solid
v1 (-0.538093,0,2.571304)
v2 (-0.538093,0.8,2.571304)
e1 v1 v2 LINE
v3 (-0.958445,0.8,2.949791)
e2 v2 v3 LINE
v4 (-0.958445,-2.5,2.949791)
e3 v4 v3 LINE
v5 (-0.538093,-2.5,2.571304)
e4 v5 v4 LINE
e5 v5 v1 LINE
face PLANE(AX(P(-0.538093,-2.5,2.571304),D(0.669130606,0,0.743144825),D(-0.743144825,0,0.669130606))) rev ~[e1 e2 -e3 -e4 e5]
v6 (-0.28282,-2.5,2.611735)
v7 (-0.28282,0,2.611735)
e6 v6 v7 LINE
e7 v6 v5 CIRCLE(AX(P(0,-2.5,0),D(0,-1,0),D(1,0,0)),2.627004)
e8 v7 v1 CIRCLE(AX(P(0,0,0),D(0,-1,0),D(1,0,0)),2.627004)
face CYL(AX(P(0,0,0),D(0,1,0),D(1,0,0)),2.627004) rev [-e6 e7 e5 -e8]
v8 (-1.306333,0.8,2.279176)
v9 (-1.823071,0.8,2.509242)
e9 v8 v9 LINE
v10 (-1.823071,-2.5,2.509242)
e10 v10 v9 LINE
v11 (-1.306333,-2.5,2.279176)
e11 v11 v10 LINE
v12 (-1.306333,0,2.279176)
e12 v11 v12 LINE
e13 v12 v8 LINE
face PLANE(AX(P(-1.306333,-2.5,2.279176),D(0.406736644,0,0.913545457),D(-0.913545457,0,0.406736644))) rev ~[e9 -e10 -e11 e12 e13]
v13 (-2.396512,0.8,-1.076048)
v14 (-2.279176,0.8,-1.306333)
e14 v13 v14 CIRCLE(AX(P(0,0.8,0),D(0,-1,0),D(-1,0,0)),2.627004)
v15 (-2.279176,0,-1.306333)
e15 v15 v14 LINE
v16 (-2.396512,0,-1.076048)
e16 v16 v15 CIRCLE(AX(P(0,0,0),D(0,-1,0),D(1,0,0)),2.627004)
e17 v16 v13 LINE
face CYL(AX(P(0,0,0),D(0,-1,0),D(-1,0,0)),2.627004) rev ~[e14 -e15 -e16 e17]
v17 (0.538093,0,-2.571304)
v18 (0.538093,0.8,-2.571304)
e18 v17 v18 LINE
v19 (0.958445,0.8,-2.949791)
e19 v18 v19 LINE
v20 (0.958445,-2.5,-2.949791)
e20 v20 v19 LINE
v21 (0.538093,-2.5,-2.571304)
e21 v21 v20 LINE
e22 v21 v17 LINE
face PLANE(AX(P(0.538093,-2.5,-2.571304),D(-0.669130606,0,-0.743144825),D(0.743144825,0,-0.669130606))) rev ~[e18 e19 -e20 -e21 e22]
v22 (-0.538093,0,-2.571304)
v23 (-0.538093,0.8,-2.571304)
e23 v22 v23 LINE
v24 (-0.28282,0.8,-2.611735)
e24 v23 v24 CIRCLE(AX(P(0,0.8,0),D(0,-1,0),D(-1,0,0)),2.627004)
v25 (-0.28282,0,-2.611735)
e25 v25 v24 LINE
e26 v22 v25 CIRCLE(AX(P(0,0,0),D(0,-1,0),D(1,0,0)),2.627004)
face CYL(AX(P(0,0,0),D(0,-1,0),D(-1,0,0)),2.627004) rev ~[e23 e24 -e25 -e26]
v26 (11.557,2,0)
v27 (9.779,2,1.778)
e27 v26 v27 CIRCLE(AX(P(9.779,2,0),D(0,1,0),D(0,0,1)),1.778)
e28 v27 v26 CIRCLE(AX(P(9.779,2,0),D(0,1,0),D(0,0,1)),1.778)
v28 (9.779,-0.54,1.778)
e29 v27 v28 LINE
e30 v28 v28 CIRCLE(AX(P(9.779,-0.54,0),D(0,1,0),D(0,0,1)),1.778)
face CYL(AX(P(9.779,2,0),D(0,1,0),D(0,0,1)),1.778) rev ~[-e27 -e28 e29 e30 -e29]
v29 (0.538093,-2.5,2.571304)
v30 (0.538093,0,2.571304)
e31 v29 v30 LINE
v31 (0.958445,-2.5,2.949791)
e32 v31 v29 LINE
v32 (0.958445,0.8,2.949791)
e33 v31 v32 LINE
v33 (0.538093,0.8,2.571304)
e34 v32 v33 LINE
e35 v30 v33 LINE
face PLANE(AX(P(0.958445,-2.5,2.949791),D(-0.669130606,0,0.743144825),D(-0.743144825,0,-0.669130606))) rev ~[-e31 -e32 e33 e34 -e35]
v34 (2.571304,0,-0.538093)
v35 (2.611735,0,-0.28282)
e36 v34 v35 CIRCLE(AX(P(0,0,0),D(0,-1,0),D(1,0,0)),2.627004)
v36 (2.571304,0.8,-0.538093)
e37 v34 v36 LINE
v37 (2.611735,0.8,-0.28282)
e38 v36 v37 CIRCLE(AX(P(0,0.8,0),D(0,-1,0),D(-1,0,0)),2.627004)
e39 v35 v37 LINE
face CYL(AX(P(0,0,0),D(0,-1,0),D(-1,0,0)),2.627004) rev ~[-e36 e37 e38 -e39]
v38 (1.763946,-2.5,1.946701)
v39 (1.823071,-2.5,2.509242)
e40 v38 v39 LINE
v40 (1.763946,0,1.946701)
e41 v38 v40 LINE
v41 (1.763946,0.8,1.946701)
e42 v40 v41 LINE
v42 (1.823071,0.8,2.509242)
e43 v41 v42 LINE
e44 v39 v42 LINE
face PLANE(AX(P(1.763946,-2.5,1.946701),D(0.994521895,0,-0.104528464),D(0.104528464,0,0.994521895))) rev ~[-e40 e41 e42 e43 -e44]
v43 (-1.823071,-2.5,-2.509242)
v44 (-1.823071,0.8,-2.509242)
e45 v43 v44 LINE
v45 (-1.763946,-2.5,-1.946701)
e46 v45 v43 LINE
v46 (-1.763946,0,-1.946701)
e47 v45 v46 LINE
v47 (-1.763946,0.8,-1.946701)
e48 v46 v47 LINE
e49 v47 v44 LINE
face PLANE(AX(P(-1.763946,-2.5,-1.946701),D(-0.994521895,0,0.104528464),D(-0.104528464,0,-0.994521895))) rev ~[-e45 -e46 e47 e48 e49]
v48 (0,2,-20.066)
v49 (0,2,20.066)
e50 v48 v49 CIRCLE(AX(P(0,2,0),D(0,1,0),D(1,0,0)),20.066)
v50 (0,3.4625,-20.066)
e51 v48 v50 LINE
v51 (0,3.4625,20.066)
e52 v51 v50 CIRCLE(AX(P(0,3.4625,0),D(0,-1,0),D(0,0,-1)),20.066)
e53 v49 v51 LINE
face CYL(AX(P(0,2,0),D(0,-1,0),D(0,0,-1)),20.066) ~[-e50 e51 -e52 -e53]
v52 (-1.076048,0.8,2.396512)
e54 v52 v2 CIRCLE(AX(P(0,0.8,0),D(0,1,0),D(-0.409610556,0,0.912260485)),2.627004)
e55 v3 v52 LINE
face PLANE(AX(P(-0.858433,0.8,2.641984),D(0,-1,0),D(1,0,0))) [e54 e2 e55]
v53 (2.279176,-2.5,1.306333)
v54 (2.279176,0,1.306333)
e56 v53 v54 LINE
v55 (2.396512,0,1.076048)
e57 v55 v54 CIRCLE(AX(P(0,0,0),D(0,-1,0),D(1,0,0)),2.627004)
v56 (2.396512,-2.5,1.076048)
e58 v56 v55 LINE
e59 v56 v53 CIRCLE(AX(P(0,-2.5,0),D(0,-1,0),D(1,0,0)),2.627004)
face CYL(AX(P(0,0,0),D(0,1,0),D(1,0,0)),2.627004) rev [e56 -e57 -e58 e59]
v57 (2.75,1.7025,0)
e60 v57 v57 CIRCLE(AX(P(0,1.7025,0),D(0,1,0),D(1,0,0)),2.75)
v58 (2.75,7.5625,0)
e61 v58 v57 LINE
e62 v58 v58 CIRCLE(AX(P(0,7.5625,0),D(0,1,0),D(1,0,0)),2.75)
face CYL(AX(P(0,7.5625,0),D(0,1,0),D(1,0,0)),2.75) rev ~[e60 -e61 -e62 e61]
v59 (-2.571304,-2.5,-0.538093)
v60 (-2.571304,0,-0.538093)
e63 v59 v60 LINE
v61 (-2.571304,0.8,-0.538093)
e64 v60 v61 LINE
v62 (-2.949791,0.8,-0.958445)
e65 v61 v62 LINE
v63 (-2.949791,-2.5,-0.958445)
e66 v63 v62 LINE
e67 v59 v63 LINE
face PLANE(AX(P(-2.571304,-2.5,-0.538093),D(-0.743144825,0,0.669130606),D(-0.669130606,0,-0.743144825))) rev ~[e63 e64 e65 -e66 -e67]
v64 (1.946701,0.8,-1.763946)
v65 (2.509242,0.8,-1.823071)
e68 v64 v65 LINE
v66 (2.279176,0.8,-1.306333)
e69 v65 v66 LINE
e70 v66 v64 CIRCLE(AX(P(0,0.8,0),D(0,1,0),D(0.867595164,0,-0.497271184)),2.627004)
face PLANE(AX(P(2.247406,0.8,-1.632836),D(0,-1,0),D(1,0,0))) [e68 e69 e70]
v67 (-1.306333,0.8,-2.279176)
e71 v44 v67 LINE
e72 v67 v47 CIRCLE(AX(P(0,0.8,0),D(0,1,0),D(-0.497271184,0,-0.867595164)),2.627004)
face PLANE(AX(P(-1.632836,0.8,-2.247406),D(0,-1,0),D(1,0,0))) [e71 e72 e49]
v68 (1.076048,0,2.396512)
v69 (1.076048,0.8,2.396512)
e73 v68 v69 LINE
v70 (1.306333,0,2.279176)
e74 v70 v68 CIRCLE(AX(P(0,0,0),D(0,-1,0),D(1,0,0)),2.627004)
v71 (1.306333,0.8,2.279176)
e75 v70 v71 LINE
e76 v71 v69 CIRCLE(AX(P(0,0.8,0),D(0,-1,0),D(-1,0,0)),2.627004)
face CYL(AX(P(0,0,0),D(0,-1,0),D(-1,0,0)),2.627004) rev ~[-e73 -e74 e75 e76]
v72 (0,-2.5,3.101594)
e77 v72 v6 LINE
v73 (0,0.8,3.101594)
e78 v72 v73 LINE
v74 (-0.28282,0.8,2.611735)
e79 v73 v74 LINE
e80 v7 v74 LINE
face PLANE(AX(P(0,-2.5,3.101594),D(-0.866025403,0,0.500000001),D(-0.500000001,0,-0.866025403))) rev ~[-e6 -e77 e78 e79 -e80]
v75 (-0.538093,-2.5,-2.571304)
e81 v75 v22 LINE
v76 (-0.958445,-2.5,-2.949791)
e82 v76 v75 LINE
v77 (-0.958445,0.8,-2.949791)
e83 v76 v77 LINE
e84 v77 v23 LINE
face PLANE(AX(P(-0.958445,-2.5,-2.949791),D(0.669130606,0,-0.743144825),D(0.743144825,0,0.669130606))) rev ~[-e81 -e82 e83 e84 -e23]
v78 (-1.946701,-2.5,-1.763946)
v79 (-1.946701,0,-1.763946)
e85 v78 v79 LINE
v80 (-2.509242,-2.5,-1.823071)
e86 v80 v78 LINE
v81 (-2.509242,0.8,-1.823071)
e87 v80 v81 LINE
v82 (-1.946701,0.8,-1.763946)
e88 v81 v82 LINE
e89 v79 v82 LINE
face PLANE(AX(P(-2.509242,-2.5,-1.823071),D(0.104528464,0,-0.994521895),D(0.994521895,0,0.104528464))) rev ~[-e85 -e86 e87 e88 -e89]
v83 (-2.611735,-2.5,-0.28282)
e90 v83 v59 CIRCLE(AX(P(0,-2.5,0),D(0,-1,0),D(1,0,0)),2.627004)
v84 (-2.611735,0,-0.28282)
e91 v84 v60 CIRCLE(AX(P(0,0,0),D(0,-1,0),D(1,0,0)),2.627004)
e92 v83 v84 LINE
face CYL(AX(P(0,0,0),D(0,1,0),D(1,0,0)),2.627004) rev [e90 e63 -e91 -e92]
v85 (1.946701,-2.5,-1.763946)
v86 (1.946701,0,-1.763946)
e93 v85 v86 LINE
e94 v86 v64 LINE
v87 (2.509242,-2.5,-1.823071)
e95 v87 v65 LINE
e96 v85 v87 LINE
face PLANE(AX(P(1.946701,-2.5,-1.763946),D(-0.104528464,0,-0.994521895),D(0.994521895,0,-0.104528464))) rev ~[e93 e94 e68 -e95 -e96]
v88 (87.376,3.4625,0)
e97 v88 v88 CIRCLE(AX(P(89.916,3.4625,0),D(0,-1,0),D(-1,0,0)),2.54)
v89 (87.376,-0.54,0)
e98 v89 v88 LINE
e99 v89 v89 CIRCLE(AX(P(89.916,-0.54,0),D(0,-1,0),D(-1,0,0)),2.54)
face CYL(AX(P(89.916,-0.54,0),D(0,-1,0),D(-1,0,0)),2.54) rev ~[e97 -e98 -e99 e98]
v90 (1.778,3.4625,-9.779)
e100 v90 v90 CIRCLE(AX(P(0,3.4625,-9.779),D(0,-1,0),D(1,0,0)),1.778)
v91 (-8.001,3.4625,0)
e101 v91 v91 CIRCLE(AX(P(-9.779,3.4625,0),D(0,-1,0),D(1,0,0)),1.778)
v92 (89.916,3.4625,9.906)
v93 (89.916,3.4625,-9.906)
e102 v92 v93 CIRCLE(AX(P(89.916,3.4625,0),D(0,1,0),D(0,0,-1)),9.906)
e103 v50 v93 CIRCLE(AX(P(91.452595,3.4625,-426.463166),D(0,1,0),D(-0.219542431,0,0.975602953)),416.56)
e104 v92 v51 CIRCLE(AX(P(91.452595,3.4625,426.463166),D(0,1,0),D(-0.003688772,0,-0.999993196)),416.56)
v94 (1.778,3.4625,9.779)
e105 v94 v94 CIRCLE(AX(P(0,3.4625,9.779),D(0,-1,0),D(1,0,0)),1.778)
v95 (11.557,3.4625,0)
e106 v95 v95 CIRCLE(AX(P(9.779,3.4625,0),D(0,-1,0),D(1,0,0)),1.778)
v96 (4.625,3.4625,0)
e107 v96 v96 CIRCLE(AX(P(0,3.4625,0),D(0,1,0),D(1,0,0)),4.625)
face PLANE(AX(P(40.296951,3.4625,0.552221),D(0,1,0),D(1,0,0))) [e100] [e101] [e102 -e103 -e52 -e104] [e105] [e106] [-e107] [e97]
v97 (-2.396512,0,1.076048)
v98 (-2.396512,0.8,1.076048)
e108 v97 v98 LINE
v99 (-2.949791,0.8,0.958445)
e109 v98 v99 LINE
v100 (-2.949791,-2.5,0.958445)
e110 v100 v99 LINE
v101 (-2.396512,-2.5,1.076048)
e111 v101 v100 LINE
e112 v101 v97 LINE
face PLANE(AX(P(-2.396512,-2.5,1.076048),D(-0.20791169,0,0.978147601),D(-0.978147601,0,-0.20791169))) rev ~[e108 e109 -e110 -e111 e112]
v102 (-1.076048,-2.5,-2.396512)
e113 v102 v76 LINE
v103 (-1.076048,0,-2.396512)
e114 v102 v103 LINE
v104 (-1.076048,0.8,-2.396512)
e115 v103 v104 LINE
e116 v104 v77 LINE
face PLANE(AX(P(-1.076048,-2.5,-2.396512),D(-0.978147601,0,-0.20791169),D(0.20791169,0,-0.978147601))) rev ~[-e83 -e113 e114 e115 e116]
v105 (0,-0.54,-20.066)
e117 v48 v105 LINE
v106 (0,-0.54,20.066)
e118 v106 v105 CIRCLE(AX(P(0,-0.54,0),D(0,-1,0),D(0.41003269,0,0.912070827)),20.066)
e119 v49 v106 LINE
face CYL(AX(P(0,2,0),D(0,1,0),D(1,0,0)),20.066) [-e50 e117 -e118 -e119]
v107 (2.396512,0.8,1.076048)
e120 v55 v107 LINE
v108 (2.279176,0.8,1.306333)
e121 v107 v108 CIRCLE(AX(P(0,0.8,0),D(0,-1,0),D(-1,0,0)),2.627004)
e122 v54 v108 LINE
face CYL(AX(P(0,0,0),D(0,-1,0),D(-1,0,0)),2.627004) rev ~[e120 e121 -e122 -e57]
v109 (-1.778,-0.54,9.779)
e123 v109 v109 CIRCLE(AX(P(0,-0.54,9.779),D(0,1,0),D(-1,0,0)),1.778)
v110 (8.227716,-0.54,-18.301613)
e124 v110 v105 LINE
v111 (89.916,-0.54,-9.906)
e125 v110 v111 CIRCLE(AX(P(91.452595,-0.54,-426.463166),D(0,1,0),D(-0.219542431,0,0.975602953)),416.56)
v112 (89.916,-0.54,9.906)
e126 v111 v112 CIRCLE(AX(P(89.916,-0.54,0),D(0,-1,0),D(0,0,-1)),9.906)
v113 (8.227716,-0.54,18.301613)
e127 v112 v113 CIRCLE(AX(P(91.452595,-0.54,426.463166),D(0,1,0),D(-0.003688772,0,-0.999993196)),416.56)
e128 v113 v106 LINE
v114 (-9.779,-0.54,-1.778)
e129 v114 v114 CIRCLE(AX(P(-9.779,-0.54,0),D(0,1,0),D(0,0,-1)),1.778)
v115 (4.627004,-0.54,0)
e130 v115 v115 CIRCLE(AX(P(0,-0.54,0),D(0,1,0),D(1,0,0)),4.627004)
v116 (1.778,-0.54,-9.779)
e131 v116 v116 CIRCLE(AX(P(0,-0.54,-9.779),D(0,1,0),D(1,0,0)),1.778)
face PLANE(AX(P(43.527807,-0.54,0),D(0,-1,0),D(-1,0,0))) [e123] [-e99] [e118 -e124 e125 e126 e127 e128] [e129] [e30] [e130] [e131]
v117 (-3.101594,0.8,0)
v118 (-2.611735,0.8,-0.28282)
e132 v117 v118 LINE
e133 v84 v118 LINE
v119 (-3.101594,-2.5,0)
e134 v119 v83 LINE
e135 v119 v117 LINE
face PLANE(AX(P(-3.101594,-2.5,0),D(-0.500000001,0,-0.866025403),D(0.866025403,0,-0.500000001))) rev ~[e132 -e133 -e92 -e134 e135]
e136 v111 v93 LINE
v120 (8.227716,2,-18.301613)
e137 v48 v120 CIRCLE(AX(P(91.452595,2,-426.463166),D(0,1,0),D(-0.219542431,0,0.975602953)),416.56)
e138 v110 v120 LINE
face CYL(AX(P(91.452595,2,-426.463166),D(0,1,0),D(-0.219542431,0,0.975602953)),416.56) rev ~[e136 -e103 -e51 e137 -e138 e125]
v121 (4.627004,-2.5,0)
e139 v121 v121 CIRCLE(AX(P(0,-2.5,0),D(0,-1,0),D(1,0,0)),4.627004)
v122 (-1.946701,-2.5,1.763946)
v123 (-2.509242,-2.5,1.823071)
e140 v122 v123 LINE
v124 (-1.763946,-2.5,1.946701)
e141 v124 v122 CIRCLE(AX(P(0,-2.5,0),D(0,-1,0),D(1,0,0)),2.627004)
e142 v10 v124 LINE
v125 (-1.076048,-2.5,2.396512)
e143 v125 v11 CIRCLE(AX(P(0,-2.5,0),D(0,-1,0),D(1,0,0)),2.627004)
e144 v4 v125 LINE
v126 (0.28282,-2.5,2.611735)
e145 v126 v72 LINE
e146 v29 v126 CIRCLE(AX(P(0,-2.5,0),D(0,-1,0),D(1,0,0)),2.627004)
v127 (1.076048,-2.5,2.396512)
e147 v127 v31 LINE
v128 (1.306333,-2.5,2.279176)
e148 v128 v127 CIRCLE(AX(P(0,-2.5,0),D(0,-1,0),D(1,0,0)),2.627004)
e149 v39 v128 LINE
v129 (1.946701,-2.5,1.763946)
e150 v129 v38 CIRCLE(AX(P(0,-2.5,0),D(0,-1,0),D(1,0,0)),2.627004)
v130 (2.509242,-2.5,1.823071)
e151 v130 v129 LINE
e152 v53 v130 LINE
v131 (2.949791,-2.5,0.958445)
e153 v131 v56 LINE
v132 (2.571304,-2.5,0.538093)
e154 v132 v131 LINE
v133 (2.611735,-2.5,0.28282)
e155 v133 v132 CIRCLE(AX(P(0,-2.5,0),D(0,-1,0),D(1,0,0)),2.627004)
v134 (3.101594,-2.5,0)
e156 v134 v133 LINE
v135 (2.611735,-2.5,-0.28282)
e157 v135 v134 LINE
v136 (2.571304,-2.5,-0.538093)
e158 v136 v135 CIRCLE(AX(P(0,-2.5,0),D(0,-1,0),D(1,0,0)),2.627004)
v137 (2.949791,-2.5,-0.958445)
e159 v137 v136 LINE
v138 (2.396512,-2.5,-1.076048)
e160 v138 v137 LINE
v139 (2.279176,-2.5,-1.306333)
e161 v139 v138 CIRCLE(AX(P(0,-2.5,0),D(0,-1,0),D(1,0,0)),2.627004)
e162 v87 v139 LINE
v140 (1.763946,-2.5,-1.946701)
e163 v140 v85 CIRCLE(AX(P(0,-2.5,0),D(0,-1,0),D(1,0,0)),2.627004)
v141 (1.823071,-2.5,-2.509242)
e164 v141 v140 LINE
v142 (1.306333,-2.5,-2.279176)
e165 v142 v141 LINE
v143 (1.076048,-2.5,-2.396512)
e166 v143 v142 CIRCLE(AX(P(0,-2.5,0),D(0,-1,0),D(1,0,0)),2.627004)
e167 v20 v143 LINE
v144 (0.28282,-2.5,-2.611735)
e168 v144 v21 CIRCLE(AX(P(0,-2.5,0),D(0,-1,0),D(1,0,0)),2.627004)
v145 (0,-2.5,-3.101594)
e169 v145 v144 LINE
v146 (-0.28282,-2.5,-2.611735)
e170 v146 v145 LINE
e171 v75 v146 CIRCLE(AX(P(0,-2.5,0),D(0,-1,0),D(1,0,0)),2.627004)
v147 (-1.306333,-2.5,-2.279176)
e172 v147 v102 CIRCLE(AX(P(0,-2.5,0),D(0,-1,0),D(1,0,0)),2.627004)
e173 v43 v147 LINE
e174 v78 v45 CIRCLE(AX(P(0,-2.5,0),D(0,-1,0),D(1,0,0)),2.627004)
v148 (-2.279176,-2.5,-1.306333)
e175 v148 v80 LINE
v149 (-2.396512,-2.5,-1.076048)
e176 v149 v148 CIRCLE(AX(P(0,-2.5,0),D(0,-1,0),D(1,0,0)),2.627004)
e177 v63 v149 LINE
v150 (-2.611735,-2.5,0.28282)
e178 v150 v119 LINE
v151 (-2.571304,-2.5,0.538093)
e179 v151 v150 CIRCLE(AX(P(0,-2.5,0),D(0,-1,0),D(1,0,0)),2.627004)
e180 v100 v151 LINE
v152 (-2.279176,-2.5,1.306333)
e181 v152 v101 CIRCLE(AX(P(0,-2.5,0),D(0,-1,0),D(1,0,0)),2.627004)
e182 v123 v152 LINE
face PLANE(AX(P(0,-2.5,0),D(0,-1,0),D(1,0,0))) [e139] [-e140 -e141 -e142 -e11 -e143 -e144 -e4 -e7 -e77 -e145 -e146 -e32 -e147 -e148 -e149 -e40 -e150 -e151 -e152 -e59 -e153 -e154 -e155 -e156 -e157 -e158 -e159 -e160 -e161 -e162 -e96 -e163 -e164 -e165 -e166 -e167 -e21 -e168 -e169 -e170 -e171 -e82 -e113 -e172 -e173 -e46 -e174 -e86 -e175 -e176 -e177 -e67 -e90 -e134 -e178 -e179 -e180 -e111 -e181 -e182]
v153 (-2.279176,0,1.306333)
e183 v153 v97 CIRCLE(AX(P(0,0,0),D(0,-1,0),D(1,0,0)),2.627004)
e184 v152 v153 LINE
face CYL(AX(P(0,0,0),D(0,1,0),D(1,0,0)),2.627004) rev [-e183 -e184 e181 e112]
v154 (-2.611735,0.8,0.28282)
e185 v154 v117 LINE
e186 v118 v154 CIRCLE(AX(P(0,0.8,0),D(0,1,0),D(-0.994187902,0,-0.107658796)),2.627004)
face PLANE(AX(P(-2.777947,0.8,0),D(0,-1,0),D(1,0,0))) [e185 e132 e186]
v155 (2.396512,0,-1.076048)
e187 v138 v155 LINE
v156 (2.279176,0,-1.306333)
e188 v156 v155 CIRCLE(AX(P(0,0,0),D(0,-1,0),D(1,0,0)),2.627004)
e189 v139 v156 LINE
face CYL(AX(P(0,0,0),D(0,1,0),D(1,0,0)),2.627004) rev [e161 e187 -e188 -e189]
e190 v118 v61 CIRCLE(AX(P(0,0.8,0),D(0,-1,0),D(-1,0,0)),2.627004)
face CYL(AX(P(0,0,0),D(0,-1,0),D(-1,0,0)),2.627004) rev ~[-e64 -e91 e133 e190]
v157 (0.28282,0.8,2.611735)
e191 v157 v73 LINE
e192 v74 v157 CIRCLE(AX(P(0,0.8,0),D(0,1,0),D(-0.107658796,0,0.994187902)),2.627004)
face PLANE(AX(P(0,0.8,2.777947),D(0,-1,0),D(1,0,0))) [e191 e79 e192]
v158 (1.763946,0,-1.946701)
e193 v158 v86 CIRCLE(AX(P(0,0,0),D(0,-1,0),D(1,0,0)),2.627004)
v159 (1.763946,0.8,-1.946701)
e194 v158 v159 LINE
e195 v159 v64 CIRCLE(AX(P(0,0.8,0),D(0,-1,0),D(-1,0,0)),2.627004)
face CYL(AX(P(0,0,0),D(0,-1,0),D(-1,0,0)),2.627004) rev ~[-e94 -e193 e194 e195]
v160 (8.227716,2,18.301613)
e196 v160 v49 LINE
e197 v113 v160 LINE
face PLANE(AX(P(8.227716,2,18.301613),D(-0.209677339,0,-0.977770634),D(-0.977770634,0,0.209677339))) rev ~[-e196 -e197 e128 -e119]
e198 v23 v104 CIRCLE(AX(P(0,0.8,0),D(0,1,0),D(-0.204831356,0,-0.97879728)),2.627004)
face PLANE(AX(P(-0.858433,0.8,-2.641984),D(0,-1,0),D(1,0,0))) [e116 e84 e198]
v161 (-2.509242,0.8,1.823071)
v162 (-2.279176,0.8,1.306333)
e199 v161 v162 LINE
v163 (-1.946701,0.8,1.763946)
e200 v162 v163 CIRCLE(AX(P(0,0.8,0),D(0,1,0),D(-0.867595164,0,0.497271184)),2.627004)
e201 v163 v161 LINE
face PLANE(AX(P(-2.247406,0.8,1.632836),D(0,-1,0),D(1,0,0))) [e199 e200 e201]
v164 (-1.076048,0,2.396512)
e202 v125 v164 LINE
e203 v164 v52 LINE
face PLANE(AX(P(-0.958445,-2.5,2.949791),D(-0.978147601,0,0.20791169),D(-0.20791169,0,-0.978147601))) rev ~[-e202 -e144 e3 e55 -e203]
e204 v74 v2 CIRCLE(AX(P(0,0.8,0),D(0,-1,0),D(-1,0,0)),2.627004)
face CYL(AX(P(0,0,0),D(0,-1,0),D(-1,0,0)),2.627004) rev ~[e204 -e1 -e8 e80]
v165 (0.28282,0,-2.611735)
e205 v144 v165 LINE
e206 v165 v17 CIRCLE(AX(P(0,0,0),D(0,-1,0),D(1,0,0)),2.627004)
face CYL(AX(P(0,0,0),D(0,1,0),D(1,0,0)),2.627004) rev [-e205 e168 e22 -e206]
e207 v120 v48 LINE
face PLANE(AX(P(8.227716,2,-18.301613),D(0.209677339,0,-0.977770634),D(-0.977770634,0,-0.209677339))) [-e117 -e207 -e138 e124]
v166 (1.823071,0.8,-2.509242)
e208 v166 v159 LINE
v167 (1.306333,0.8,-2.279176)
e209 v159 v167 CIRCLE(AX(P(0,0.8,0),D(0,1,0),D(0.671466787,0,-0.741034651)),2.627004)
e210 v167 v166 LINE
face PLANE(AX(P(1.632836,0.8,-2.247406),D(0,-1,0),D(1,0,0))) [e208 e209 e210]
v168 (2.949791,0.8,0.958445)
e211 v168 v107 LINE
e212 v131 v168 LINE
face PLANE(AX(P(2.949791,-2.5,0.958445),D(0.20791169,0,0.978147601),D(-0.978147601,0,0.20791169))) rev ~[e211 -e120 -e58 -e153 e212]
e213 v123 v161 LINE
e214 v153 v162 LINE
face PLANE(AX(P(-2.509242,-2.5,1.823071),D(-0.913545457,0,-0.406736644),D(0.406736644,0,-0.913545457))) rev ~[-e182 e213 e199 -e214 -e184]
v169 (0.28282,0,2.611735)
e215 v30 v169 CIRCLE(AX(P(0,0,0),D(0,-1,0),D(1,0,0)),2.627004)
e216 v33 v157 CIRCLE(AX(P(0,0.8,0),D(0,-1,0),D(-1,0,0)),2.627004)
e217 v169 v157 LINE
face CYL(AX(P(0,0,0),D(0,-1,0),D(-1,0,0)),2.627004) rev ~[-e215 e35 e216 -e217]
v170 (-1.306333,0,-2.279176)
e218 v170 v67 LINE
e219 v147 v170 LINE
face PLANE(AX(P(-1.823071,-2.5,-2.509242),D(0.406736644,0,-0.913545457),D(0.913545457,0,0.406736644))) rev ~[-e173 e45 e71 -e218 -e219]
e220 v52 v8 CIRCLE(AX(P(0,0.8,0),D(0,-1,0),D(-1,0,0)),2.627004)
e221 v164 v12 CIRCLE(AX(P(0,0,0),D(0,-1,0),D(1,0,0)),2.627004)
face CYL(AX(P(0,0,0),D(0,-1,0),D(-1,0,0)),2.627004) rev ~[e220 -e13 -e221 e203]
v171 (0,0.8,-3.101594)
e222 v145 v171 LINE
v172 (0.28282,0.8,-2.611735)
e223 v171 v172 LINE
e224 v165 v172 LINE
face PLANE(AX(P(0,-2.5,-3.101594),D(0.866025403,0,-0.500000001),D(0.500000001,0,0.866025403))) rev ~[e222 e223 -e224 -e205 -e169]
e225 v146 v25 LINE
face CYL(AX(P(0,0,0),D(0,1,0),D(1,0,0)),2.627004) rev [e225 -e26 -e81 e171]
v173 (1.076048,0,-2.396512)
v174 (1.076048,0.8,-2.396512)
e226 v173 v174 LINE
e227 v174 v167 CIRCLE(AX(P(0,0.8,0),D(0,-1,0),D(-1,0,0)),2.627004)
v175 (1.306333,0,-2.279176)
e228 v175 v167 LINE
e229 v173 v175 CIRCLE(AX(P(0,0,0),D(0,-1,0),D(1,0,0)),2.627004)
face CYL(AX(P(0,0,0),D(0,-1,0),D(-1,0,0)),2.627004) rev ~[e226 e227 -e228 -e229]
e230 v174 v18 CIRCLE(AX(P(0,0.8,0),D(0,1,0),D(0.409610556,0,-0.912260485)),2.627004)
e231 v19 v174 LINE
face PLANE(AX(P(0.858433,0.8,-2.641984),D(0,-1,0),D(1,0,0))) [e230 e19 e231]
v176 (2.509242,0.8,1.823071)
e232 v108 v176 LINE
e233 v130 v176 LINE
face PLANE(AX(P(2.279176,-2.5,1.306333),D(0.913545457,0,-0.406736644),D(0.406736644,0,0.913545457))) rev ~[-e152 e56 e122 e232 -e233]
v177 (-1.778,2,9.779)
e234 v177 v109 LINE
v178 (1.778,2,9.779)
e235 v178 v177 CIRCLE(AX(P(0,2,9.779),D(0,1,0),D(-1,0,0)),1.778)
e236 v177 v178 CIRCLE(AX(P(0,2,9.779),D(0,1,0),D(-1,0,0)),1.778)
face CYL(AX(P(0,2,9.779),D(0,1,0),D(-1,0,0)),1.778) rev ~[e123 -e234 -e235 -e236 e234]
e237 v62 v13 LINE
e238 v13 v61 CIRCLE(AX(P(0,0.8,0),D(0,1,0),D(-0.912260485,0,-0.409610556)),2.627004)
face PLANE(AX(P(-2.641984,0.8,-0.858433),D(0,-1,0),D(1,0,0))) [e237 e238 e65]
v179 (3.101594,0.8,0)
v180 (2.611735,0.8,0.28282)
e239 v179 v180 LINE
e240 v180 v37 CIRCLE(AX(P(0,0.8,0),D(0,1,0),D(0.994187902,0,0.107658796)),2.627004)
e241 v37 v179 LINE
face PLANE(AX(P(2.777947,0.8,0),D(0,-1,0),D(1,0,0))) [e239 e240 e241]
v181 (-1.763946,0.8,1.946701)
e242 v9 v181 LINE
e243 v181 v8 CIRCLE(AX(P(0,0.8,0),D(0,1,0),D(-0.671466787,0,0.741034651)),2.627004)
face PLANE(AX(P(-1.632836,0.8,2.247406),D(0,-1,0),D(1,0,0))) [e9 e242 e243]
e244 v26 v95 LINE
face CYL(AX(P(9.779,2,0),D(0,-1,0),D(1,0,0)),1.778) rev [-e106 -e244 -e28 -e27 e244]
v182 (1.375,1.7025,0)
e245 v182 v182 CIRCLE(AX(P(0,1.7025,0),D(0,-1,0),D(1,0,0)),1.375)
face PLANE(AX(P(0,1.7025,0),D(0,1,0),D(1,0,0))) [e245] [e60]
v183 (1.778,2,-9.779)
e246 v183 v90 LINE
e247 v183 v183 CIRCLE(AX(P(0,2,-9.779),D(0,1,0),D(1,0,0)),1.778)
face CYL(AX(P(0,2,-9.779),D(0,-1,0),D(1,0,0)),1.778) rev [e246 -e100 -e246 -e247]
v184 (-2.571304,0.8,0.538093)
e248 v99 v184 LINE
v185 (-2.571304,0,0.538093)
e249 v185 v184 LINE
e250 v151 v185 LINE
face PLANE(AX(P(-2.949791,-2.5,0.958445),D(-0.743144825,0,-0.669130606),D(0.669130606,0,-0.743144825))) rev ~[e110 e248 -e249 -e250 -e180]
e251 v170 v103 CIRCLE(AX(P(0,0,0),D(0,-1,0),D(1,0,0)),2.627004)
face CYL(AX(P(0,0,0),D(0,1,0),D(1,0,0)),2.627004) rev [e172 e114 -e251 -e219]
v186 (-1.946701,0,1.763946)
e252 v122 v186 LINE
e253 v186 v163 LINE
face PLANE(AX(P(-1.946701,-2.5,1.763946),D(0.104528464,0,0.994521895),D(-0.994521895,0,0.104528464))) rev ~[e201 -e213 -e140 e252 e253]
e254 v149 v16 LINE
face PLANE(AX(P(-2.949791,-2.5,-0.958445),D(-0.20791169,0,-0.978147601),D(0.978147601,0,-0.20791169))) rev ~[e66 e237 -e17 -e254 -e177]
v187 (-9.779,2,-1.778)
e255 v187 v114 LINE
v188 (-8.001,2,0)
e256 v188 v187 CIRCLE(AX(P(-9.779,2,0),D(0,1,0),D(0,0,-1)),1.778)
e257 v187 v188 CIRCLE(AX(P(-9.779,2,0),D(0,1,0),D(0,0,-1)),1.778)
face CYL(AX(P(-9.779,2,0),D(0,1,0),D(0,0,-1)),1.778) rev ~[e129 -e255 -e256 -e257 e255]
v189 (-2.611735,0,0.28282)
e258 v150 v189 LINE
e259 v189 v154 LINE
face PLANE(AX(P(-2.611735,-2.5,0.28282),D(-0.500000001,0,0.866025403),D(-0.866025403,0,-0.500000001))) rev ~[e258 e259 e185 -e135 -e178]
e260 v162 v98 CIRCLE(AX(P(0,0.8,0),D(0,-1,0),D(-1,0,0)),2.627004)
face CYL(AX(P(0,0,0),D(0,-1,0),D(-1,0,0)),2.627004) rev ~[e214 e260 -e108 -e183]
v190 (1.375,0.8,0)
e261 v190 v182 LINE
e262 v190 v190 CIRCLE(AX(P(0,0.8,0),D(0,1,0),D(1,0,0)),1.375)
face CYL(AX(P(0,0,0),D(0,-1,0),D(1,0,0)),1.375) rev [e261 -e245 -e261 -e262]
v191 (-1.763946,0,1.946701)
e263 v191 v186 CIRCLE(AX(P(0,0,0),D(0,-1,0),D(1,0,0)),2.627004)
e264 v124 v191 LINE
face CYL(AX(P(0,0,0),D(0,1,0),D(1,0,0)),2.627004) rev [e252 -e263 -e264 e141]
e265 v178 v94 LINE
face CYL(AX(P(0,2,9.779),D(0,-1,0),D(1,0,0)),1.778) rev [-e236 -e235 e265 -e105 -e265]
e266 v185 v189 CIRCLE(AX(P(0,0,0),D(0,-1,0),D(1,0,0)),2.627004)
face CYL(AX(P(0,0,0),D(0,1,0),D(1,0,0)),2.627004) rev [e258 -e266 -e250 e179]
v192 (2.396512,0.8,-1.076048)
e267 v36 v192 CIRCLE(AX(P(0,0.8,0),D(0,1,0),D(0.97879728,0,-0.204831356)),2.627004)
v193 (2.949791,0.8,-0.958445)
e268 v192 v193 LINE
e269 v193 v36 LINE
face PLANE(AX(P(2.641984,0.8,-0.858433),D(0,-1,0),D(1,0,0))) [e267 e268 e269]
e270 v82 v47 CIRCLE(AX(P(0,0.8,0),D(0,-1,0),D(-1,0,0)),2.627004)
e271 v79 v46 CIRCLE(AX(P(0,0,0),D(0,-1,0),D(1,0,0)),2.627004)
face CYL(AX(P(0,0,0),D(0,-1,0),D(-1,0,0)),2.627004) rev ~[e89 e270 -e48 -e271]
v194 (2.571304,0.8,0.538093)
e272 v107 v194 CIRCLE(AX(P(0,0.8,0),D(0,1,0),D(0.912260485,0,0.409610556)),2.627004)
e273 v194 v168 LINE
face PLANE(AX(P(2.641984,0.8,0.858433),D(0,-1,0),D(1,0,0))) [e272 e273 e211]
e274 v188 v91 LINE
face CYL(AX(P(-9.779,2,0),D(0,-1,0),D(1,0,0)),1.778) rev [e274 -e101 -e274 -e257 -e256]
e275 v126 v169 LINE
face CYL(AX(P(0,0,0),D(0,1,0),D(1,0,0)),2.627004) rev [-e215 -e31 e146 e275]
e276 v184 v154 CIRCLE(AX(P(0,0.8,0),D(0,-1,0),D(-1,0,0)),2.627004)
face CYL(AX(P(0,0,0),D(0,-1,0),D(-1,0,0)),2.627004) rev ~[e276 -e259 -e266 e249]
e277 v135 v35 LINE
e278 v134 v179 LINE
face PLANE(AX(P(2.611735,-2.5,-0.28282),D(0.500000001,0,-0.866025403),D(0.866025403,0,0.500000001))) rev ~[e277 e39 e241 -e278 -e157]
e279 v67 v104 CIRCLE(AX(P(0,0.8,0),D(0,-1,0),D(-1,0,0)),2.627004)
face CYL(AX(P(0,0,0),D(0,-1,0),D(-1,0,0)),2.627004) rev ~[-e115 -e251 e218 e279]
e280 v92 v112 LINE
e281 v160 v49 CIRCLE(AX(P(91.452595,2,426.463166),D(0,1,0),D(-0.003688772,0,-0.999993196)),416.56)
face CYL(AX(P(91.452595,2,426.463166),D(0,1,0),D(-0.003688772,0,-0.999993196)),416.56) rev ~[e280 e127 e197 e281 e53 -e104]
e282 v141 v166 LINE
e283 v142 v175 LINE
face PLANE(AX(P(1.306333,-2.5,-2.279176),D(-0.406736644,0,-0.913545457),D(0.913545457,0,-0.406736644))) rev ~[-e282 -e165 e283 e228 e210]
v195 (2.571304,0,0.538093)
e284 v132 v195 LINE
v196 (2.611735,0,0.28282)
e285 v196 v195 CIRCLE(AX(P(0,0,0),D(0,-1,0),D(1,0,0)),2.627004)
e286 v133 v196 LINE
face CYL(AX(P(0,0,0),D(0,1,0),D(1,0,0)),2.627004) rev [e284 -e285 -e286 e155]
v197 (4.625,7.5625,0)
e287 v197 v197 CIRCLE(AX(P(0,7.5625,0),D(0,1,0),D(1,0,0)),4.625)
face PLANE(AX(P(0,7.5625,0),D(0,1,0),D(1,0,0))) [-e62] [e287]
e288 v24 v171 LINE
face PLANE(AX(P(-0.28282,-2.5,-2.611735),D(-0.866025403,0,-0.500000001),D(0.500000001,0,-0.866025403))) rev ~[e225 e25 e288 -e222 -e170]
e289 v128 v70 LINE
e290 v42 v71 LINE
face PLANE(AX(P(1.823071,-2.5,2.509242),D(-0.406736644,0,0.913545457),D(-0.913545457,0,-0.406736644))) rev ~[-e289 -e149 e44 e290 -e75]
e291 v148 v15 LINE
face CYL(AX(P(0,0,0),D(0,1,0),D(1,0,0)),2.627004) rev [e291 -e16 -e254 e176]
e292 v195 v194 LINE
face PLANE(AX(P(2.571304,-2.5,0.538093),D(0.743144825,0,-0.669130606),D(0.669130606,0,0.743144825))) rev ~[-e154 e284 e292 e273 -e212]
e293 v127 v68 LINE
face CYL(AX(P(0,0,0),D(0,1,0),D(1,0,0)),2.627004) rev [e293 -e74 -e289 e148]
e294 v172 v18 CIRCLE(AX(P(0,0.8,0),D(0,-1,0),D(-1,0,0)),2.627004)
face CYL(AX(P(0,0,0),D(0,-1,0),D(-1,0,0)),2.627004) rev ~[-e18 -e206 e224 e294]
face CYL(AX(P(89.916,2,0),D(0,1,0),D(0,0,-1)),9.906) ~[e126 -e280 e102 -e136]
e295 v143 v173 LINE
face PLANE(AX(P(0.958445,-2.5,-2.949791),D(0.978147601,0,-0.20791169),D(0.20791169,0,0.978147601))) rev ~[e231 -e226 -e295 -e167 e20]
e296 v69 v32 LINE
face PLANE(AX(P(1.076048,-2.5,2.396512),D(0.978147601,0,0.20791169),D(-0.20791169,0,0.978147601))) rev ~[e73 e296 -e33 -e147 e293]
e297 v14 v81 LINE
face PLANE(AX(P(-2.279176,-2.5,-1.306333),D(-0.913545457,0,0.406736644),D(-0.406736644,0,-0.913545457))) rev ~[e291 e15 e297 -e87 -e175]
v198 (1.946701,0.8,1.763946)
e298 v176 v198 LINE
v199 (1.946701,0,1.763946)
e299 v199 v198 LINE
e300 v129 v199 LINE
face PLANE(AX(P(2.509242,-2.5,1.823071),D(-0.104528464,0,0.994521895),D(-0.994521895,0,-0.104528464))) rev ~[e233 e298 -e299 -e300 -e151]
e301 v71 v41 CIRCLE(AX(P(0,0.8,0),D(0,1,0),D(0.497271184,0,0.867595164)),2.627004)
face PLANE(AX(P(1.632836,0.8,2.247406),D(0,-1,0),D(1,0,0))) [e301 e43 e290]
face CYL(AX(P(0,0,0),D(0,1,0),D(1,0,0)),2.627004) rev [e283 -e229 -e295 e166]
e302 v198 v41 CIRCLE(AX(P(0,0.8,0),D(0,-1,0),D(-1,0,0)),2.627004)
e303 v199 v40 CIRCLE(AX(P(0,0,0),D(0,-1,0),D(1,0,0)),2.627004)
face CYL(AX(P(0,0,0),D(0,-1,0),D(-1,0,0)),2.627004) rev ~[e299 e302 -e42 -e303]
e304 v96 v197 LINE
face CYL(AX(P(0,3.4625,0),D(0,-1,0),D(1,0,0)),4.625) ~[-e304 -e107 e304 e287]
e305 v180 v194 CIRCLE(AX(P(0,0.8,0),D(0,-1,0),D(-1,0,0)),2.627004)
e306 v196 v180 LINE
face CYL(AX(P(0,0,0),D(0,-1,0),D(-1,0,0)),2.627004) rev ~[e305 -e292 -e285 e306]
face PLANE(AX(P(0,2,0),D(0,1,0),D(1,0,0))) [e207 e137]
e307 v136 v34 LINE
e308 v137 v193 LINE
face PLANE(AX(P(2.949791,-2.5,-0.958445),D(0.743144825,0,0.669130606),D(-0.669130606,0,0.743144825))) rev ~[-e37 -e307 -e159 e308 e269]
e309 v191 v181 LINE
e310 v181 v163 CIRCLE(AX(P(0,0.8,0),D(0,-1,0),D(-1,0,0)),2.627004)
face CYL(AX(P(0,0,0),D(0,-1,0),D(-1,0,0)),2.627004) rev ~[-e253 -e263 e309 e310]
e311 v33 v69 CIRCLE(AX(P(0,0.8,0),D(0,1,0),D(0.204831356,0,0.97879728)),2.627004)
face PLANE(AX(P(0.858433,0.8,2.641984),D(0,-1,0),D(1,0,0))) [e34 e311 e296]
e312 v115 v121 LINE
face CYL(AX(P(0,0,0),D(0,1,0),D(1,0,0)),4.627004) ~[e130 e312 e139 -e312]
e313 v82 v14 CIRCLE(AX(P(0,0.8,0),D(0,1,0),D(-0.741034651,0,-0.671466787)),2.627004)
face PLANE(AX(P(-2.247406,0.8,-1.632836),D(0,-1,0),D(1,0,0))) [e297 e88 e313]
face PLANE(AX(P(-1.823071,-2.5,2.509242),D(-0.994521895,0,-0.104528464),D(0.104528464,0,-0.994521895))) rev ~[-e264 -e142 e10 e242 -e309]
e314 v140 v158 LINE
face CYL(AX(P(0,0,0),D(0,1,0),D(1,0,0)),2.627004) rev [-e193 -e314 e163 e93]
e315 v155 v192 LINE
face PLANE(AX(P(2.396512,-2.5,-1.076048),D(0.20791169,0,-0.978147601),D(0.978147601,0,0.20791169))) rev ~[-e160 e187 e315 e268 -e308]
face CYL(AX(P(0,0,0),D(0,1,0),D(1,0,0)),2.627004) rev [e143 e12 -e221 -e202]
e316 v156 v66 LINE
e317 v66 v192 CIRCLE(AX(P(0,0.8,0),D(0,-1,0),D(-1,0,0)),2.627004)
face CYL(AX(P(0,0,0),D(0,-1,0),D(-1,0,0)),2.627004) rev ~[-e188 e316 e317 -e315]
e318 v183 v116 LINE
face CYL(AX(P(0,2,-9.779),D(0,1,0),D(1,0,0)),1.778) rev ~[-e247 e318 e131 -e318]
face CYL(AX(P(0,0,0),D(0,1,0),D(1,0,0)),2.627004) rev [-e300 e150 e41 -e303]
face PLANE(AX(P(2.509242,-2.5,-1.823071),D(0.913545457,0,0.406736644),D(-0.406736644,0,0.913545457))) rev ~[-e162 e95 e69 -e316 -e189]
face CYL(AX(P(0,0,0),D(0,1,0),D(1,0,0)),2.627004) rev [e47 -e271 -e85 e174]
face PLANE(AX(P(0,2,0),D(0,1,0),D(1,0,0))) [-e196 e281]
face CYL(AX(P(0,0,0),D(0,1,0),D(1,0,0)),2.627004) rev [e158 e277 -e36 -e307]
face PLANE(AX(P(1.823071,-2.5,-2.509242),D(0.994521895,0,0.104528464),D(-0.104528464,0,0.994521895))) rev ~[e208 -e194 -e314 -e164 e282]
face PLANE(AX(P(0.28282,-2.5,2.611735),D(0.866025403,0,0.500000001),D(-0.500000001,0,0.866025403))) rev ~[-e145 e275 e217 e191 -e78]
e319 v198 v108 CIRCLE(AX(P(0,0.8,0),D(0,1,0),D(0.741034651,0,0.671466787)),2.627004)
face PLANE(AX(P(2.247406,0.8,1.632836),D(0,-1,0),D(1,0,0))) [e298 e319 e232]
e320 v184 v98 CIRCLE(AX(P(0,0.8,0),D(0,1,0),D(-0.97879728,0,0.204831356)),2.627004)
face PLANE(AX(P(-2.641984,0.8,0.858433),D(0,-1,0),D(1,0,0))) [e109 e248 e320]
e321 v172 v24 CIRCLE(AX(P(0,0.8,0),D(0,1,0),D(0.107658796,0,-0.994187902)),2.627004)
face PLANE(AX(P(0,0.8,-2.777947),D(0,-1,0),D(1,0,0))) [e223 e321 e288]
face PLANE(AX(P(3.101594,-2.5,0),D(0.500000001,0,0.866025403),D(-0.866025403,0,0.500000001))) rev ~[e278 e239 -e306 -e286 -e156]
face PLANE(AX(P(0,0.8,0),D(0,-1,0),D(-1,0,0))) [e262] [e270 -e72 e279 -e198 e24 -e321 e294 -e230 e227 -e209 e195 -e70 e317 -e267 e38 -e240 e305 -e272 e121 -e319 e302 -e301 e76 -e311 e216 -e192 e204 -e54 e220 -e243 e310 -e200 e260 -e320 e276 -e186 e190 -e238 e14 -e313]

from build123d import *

# Parameters (mm, degrees)
SKETCH1_R                = 0.5
SKETCH1_R_2              = 1.375
BOSS_EXTRUDE1_DEPTH      = 2
SKETCH4_R                = 4.6270037
SKETCH4_R_2              = 2.6270037
BOSS_EXTRUDE3_DEPTH      = 2.5
SKETCH6_R                = 20.066
SKETCH6_R_2              = 3.75
BOSS_EXTRUDE6_DEPTH      = 2.54
SKETCH7_R                = 1.778
CUT_EXTRUDE4_DEPTH       = 2.54
CIRPATTERN1_COUNT        = 4
BOSS_EXTRU_1_DEPTH       = 2.2225
BOSS_EXTRU_1_DEPTH_BACK  = 2.54
ENL_V_MAT_EXTRU_1_REACH  = 6.5
ESQUISSE3_R              = 1.375
ESQUISSE3_R_2            = 1.778
BOSS_EXTRU_2_DEPTH       = 2.2225
ENL_V_MAT_EXTRU_2_REACH  = 6.763
ESQUISSE4_R              = 2.54
ESQUISSE8_W              = 140.858552016
ESQUISSE8_H              = 60.675995817
ENL_V_MAT_EXTRU_6_DEPTH  = 0.76
ESQUISSE9_R              = 4.625
BOSS_EXTRU_3_DEPTH       = 4.1
CUT_EXTRUDE3_DEPTH       = 3.3
ESQUISSE10_R             = 2.6270037
ESQUISSE10_R_2           = 1.375
ENL_V_MAT_EXTRU_8_DEPTH  = 0.8
ESQUISSE11_R             = 1.375
ENL_V_MAT_EXTRU_9_DEPTH  = 10
ESQUISSE12_R             = 2.75
ENL_V_MAT_EXTRU_10_DEPTH = 5.86


with BuildPart() as part:
    # Sketch1 → Boss-Extrude1 (new body)
    with BuildSketch(Plane(origin=(0, 0, 0), x_dir=(1, 0, 0), z_dir=(0, 1, 0))):
        with BuildLine():
            Line((-4, 4), (-2.467435953, 13.402193757))
            ThreePointArc((-2.467435953, 13.402193757), (0, 15.5), (2.467435953, 13.402193757))
            Line((2.467435953, 13.402193757), (4, 4))
            Line((4, 4), (12.448472752, 2.459445505))
            ThreePointArc((12.448472752, 2.459445505), (14.5, 0), (12.448472752, -2.459445505))
            Line((12.448472752, -2.459445505), (4, -4))
            Line((4, -4), (2.467435953, -13.402193757))
            ThreePointArc((2.467435953, -13.402193757), (0, -15.5), (-2.467435953, -13.402193757))
            Line((-2.467435953, -13.402193757), (-4, -4))
            Line((-4, -4), (-12.448472752, -2.459445505))
            ThreePointArc((-12.448472752, -2.459445505), (-14.5, 0), (-12.448472752, 2.459445505))
            Line((-12.448472752, 2.459445505), (-4, 4))
        make_face()
        with Locations((0, 12)):
            Circle(SKETCH1_R, mode=Mode.SUBTRACT)
        with Locations((0, 9.5)):
            Circle(SKETCH1_R, mode=Mode.SUBTRACT)
        with Locations((0, 7.5)):
            Circle(SKETCH1_R, mode=Mode.SUBTRACT)
        with Locations((12, 0)):
            Circle(SKETCH1_R, mode=Mode.SUBTRACT)
        with Locations((9.5, 0)):
            Circle(SKETCH1_R, mode=Mode.SUBTRACT)
        with Locations((7.5, 0)):
            Circle(SKETCH1_R, mode=Mode.SUBTRACT)
        with Locations((0, -12)):
            Circle(SKETCH1_R, mode=Mode.SUBTRACT)
        with Locations((0, -9.5)):
            Circle(SKETCH1_R, mode=Mode.SUBTRACT)
        with Locations((0, -7.5)):
            Circle(SKETCH1_R, mode=Mode.SUBTRACT)
        with Locations((-12, 0)):
            Circle(SKETCH1_R, mode=Mode.SUBTRACT)
        with Locations((-9.5, 0)):
            Circle(SKETCH1_R, mode=Mode.SUBTRACT)
        with Locations((-7.5, 0)):
            Circle(SKETCH1_R, mode=Mode.SUBTRACT)
        Circle(SKETCH1_R_2, mode=Mode.SUBTRACT)
    extrude(amount=BOSS_EXTRUDE1_DEPTH)

    # Sketch4 → Boss-Extrude3 (add)
    with BuildSketch(Plane.XZ):
        Circle(SKETCH4_R)
        Circle(SKETCH4_R_2, mode=Mode.SUBTRACT)
    extrude(amount=BOSS_EXTRUDE3_DEPTH)

    # Sketch6 → Boss-Extrude6 (add)
    with BuildSketch(Plane(origin=(0, 2, 0), x_dir=(1, 0, 0), z_dir=(0, 1, 0))):
        Circle(SKETCH6_R)
        Circle(SKETCH6_R_2, mode=Mode.SUBTRACT)
    extrude(amount=-BOSS_EXTRUDE6_DEPTH)

    # Sketch7 → Cut-Extrude4 (cut)
    with BuildSketch(Plane(origin=(0, 2, 0), x_dir=(1, 0, 0), z_dir=(0, 1, 0))):
        with Locations((0, 9.779)):
            Circle(SKETCH7_R)
    cut_extrude4 = extrude(amount=-CUT_EXTRUDE4_DEPTH, mode=Mode.SUBTRACT)

    # CirPattern1: Cut-Extrude4 ×4 about axis
    cirpattern1_axis = Axis((0, 0, 0), (0, 1, 0))
    for i in range(1, CIRPATTERN1_COUNT):
        add(cut_extrude4.rotate(cirpattern1_axis, i * 360 / CIRPATTERN1_COUNT), mode=Mode.SUBTRACT)

    # Esquisse1 → Boss.-Extru.1 (add, two sides)
    with BuildSketch(Plane(origin=(0, 2, 0), x_dir=(1, 0, 0), z_dir=(0, 1, 0))) as boss_extru_1_sk:
        with BuildLine():
            ThreePointArc((89.916, 9.906), (99.822, 0), (89.916, -9.906))
            ThreePointArc((89.916, -9.906), (44.681302905, -12.537230712), (0, -20.066))
            ThreePointArc((0, -20.066), (13.313004572, 0), (0, 20.066))
            ThreePointArc((0, 20.066), (44.681302905, 12.537230712), (89.916, 9.906))
        make_face()
    extrude(amount=BOSS_EXTRU_1_DEPTH)
    extrude(boss_extru_1_sk.sketch, amount=-BOSS_EXTRU_1_DEPTH_BACK)

    # Esquisse2 → Enlèv. mat.-Extru.1 (cut, up to next)
    with BuildSketch(Plane(origin=(0, 2, 0), x_dir=(1, 0, 0), z_dir=(0, 1, 0)), mode=Mode.PRIVATE) as enl_v_mat_extru_1_sk1:
        with BuildLine():
            Line((8.227715952, -18.301613214), (0, -20.066))
            ThreePointArc((0, -20.066), (4.207385486, -19.61994555), (8.227715952, -18.301613214))
        make_face()
    enl_v_mat_extru_1_tool1 = extrude(enl_v_mat_extru_1_sk1.sketch, amount=-ENL_V_MAT_EXTRU_1_REACH, mode=Mode.PRIVATE) & part.part
    add(enl_v_mat_extru_1_tool1.solids().sort_by_distance((4.151305, 2, 19.358429))[0], mode=Mode.SUBTRACT)
    # Esquisse2 → Enlèv. mat.-Extru.1 (cut, up to next)
    with BuildSketch(Plane(origin=(0, 2, 0), x_dir=(1, 0, 0), z_dir=(0, 1, 0)), mode=Mode.PRIVATE) as enl_v_mat_extru_1_sk2:
        with BuildLine():
            Line((8.227715952, 18.301613214), (0, 20.066))
            ThreePointArc((0, 20.066), (4.207385486, 19.61994555), (8.227715952, 18.301613214))
        make_face()
    enl_v_mat_extru_1_tool2 = extrude(enl_v_mat_extru_1_sk2.sketch, amount=-ENL_V_MAT_EXTRU_1_REACH, mode=Mode.PRIVATE) & part.part
    add(enl_v_mat_extru_1_tool2.solids().sort_by_distance((4.151305, 2, -19.358429))[0], mode=Mode.SUBTRACT)

    # Esquisse3 → Boss.-Extru.2 (add)
    with BuildSketch(Plane(origin=(0, 2, 0), x_dir=(1, 0, 0), z_dir=(0, 1, 0))):
        with BuildLine():
            ThreePointArc((0, -20.066), (13.313004572, 0), (0, 20.066))
            ThreePointArc((0, 20.066), (-20.066, 0), (0, -20.066))
        make_face()
        Circle(ESQUISSE3_R, mode=Mode.SUBTRACT)
        with Locations((0, 9.779)):
            Circle(ESQUISSE3_R_2, mode=Mode.SUBTRACT)
        with Locations((9.779, 0)):
            Circle(ESQUISSE3_R_2, mode=Mode.SUBTRACT)
        with Locations((0, -9.779)):
            Circle(ESQUISSE3_R_2, mode=Mode.SUBTRACT)
        with Locations((-9.779, 0)):
            Circle(ESQUISSE3_R_2, mode=Mode.SUBTRACT)
    extrude(amount=BOSS_EXTRU_2_DEPTH)

    # Esquisse4 → Enlèv. mat.-Extru.2 (cut, up to next)
    with BuildSketch(Plane(origin=(0, -0.54, 0), x_dir=(-1, 0, 0), z_dir=(0, -1, 0)), mode=Mode.PRIVATE) as enl_v_mat_extru_2_sk1:
        with Locations((-89.916, 0)):
            Circle(ESQUISSE4_R)
    enl_v_mat_extru_2_tool1 = extrude(enl_v_mat_extru_2_sk1.sketch, amount=-ENL_V_MAT_EXTRU_2_REACH, mode=Mode.PRIVATE) & part.part
    add(enl_v_mat_extru_2_tool1.solids().sort_by_distance((89.916, -0.54, 0))[0], mode=Mode.SUBTRACT)

    # Esquisse8 → Enlèv. mat.-Extru.6 (cut)
    with BuildSketch(Plane(origin=(0, 4.2225, 0), x_dir=(1, 0, 0), z_dir=(0, 1, 0))):
        with Locations((40.296950532, -0.55222117)):
            Rectangle(ESQUISSE8_W, ESQUISSE8_H)
    extrude(amount=-ENL_V_MAT_EXTRU_6_DEPTH, mode=Mode.SUBTRACT)

    # Esquisse9 → Boss.-Extru.3 (add)
    with BuildSketch(Plane(origin=(0, 3.4625, 0), x_dir=(1, 0, 0), z_dir=(0, 1, 0))):
        Circle(ESQUISSE9_R)
    extrude(amount=BOSS_EXTRU_3_DEPTH)

    # Sketch5 → Cut-Extrude3 (cut)
    with BuildSketch(Plane.XZ.offset(2.5)):
        with BuildLine():
            Line((0.282820055, 2.611735296), (0, 3.101594))
            Line((0, 3.101594), (-0.282820055, 2.611735296))
            ThreePointArc((-0.282820055, 2.611735296), (0, 2.6270037), (0.282820055, 2.611735296))
        make_face()
        with BuildLine():
            ThreePointArc((-1.076048447, 2.396511669), (-0.811788788, 2.498428987), (-0.538092735, 2.571304075))
            Line((-0.538092735, 2.571304075), (-0.958445256, 2.949791185))
            Line((-0.958445256, 2.949791185), (-1.076048447, 2.396511669))
        make_face()
        with BuildLine():
            Line((0.958445256, 2.949791185), (0.538092735, 2.571304075))
            ThreePointArc((0.538092735, 2.571304075), (0.811788788, 2.498428987), (1.076048447, 2.396511669))
            Line((1.076048447, 2.396511669), (0.958445256, 2.949791185))
        make_face()
        with BuildLine():
            ThreePointArc((-1.76394572, 1.946700782), (-1.544114033, 2.125290638), (-1.306333259, 2.279175696))
            Line((-1.306333259, 2.279175696), (-1.823071212, 2.509242256))
            Line((-1.823071212, 2.509242256), (-1.76394572, 1.946700782))
        make_face()
        with BuildLine():
            Line((1.823071212, 2.509242256), (1.306333259, 2.279175696))
            ThreePointArc((1.306333259, 2.279175696), (1.544114033, 2.125290638), (1.76394572, 1.946700782))
            Line((1.76394572, 1.946700782), (1.823071212, 2.509242256))
        make_face()
        with BuildLine():
            ThreePointArc((-2.279175696, 1.306333259), (-2.125290638, 1.544114033), (-1.946700782, 1.76394572))
            Line((-1.946700782, 1.76394572), (-2.509242256, 1.823071212))
            Line((-2.509242256, 1.823071212), (-2.279175696, 1.306333259))
        make_face()
        with BuildLine():
            Line((2.509242256, 1.823071212), (1.946700782, 1.76394572))
            ThreePointArc((1.946700782, 1.76394572), (2.125290638, 1.544114033), (2.279175696, 1.306333259))
            Line((2.279175696, 1.306333259), (2.509242256, 1.823071212))
        make_face()
        with BuildLine():
            ThreePointArc((-2.571304075, 0.538092735), (-2.498428987, 0.811788788), (-2.396511669, 1.076048447))
            Line((-2.396511669, 1.076048447), (-2.949791185, 0.958445256))
            Line((-2.949791185, 0.958445256), (-2.571304075, 0.538092735))
        make_face()
        with BuildLine():
            Line((2.949791185, 0.958445256), (2.396511669, 1.076048447))
            ThreePointArc((2.396511669, 1.076048447), (2.498428987, 0.811788788), (2.571304075, 0.538092735))
            Line((2.571304075, 0.538092735), (2.949791185, 0.958445256))
        make_face()
        with BuildLine():
            ThreePointArc((-2.611735296, -0.282820055), (-2.6270037, 0), (-2.611735296, 0.282820055))
            Line((-2.611735296, 0.282820055), (-3.101594, 0))
            Line((-3.101594, 0), (-2.611735296, -0.282820055))
        make_face()
        with BuildLine():
            Line((3.101594, 0), (2.611735296, 0.282820055))
            ThreePointArc((2.611735296, 0.282820055), (2.6270037, 0), (2.611735296, -0.282820055))
            Line((2.611735296, -0.282820055), (3.101594, 0))
        make_face()
        with BuildLine():
            ThreePointArc((-2.396511669, -1.076048447), (-2.498428987, -0.811788788), (-2.571304075, -0.538092735))
            Line((-2.571304075, -0.538092735), (-2.949791185, -0.958445256))
            Line((-2.949791185, -0.958445256), (-2.396511669, -1.076048447))
        make_face()
        with BuildLine():
            Line((2.949791185, -0.958445256), (2.571304075, -0.538092735))
            ThreePointArc((2.571304075, -0.538092735), (2.498428987, -0.811788788), (2.396511669, -1.076048447))
            Line((2.396511669, -1.076048447), (2.949791185, -0.958445256))
        make_face()
        with BuildLine():
            ThreePointArc((-1.946700782, -1.76394572), (-2.125290638, -1.544114033), (-2.279175696, -1.306333259))
            Line((-2.279175696, -1.306333259), (-2.509242256, -1.823071212))
            Line((-2.509242256, -1.823071212), (-1.946700782, -1.76394572))
        make_face()
        with BuildLine():
            Line((2.509242256, -1.823071212), (2.279175696, -1.306333259))
            ThreePointArc((2.279175696, -1.306333259), (2.125290638, -1.544114033), (1.946700782, -1.76394572))
            Line((1.946700782, -1.76394572), (2.509242256, -1.823071212))
        make_face()
        with BuildLine():
            ThreePointArc((-1.306333259, -2.279175696), (-1.544114033, -2.125290638), (-1.76394572, -1.946700782))
            Line((-1.76394572, -1.946700782), (-1.823071212, -2.509242256))
            Line((-1.823071212, -2.509242256), (-1.306333259, -2.279175696))
        make_face()
        with BuildLine():
            Line((1.823071212, -2.509242256), (1.76394572, -1.946700782))
            ThreePointArc((1.76394572, -1.946700782), (1.544114033, -2.125290638), (1.306333259, -2.279175696))
            Line((1.306333259, -2.279175696), (1.823071212, -2.509242256))
        make_face()
        with BuildLine():
            ThreePointArc((-0.538092735, -2.571304075), (-0.811788788, -2.498428987), (-1.076048447, -2.396511669))
            Line((-1.076048447, -2.396511669), (-0.958445256, -2.949791185))
            Line((-0.958445256, -2.949791185), (-0.538092735, -2.571304075))
        make_face()
        with BuildLine():
            Line((0.958445256, -2.949791185), (1.076048447, -2.396511669))
            ThreePointArc((1.076048447, -2.396511669), (0.811788788, -2.498428987), (0.538092735, -2.571304075))
            Line((0.538092735, -2.571304075), (0.958445256, -2.949791185))
        make_face()
        with BuildLine():
            ThreePointArc((0.282820055, -2.611735296), (0, -2.6270037), (-0.282820055, -2.611735296))
            Line((-0.282820055, -2.611735296), (0, -3.101594))
            Line((0, -3.101594), (0.282820055, -2.611735296))
        make_face()
    extrude(amount=-CUT_EXTRUDE3_DEPTH, mode=Mode.SUBTRACT)

    # Esquisse10 → Enlèv. mat.-Extru.8 (cut)
    with BuildSketch(Plane(origin=(0, 0, 0), x_dir=(-1, 0, 0), z_dir=(0, -1, 0))):
        Circle(ESQUISSE10_R)
        Circle(ESQUISSE10_R_2, mode=Mode.SUBTRACT)
    extrude(amount=-ENL_V_MAT_EXTRU_8_DEPTH, mode=Mode.SUBTRACT)

    # Esquisse11 → Enlèv. mat.-Extru.9 (cut)
    with BuildSketch(Plane(origin=(0, 3.4625, 0), x_dir=(-1, 0, 0), z_dir=(0, -1, 0))):
        Circle(ESQUISSE11_R)
    extrude(amount=-ENL_V_MAT_EXTRU_9_DEPTH, mode=Mode.SUBTRACT)

    # Esquisse12 → Enlèv. mat.-Extru.10 (cut)
    with BuildSketch(Plane(origin=(0, 7.5625, 0), x_dir=(1, 0, 0), z_dir=(0, 1, 0))):
        Circle(ESQUISSE12_R)
    extrude(amount=-ENL_V_MAT_EXTRU_10_DEPTH, mode=Mode.SUBTRACT)


solid = part.part
